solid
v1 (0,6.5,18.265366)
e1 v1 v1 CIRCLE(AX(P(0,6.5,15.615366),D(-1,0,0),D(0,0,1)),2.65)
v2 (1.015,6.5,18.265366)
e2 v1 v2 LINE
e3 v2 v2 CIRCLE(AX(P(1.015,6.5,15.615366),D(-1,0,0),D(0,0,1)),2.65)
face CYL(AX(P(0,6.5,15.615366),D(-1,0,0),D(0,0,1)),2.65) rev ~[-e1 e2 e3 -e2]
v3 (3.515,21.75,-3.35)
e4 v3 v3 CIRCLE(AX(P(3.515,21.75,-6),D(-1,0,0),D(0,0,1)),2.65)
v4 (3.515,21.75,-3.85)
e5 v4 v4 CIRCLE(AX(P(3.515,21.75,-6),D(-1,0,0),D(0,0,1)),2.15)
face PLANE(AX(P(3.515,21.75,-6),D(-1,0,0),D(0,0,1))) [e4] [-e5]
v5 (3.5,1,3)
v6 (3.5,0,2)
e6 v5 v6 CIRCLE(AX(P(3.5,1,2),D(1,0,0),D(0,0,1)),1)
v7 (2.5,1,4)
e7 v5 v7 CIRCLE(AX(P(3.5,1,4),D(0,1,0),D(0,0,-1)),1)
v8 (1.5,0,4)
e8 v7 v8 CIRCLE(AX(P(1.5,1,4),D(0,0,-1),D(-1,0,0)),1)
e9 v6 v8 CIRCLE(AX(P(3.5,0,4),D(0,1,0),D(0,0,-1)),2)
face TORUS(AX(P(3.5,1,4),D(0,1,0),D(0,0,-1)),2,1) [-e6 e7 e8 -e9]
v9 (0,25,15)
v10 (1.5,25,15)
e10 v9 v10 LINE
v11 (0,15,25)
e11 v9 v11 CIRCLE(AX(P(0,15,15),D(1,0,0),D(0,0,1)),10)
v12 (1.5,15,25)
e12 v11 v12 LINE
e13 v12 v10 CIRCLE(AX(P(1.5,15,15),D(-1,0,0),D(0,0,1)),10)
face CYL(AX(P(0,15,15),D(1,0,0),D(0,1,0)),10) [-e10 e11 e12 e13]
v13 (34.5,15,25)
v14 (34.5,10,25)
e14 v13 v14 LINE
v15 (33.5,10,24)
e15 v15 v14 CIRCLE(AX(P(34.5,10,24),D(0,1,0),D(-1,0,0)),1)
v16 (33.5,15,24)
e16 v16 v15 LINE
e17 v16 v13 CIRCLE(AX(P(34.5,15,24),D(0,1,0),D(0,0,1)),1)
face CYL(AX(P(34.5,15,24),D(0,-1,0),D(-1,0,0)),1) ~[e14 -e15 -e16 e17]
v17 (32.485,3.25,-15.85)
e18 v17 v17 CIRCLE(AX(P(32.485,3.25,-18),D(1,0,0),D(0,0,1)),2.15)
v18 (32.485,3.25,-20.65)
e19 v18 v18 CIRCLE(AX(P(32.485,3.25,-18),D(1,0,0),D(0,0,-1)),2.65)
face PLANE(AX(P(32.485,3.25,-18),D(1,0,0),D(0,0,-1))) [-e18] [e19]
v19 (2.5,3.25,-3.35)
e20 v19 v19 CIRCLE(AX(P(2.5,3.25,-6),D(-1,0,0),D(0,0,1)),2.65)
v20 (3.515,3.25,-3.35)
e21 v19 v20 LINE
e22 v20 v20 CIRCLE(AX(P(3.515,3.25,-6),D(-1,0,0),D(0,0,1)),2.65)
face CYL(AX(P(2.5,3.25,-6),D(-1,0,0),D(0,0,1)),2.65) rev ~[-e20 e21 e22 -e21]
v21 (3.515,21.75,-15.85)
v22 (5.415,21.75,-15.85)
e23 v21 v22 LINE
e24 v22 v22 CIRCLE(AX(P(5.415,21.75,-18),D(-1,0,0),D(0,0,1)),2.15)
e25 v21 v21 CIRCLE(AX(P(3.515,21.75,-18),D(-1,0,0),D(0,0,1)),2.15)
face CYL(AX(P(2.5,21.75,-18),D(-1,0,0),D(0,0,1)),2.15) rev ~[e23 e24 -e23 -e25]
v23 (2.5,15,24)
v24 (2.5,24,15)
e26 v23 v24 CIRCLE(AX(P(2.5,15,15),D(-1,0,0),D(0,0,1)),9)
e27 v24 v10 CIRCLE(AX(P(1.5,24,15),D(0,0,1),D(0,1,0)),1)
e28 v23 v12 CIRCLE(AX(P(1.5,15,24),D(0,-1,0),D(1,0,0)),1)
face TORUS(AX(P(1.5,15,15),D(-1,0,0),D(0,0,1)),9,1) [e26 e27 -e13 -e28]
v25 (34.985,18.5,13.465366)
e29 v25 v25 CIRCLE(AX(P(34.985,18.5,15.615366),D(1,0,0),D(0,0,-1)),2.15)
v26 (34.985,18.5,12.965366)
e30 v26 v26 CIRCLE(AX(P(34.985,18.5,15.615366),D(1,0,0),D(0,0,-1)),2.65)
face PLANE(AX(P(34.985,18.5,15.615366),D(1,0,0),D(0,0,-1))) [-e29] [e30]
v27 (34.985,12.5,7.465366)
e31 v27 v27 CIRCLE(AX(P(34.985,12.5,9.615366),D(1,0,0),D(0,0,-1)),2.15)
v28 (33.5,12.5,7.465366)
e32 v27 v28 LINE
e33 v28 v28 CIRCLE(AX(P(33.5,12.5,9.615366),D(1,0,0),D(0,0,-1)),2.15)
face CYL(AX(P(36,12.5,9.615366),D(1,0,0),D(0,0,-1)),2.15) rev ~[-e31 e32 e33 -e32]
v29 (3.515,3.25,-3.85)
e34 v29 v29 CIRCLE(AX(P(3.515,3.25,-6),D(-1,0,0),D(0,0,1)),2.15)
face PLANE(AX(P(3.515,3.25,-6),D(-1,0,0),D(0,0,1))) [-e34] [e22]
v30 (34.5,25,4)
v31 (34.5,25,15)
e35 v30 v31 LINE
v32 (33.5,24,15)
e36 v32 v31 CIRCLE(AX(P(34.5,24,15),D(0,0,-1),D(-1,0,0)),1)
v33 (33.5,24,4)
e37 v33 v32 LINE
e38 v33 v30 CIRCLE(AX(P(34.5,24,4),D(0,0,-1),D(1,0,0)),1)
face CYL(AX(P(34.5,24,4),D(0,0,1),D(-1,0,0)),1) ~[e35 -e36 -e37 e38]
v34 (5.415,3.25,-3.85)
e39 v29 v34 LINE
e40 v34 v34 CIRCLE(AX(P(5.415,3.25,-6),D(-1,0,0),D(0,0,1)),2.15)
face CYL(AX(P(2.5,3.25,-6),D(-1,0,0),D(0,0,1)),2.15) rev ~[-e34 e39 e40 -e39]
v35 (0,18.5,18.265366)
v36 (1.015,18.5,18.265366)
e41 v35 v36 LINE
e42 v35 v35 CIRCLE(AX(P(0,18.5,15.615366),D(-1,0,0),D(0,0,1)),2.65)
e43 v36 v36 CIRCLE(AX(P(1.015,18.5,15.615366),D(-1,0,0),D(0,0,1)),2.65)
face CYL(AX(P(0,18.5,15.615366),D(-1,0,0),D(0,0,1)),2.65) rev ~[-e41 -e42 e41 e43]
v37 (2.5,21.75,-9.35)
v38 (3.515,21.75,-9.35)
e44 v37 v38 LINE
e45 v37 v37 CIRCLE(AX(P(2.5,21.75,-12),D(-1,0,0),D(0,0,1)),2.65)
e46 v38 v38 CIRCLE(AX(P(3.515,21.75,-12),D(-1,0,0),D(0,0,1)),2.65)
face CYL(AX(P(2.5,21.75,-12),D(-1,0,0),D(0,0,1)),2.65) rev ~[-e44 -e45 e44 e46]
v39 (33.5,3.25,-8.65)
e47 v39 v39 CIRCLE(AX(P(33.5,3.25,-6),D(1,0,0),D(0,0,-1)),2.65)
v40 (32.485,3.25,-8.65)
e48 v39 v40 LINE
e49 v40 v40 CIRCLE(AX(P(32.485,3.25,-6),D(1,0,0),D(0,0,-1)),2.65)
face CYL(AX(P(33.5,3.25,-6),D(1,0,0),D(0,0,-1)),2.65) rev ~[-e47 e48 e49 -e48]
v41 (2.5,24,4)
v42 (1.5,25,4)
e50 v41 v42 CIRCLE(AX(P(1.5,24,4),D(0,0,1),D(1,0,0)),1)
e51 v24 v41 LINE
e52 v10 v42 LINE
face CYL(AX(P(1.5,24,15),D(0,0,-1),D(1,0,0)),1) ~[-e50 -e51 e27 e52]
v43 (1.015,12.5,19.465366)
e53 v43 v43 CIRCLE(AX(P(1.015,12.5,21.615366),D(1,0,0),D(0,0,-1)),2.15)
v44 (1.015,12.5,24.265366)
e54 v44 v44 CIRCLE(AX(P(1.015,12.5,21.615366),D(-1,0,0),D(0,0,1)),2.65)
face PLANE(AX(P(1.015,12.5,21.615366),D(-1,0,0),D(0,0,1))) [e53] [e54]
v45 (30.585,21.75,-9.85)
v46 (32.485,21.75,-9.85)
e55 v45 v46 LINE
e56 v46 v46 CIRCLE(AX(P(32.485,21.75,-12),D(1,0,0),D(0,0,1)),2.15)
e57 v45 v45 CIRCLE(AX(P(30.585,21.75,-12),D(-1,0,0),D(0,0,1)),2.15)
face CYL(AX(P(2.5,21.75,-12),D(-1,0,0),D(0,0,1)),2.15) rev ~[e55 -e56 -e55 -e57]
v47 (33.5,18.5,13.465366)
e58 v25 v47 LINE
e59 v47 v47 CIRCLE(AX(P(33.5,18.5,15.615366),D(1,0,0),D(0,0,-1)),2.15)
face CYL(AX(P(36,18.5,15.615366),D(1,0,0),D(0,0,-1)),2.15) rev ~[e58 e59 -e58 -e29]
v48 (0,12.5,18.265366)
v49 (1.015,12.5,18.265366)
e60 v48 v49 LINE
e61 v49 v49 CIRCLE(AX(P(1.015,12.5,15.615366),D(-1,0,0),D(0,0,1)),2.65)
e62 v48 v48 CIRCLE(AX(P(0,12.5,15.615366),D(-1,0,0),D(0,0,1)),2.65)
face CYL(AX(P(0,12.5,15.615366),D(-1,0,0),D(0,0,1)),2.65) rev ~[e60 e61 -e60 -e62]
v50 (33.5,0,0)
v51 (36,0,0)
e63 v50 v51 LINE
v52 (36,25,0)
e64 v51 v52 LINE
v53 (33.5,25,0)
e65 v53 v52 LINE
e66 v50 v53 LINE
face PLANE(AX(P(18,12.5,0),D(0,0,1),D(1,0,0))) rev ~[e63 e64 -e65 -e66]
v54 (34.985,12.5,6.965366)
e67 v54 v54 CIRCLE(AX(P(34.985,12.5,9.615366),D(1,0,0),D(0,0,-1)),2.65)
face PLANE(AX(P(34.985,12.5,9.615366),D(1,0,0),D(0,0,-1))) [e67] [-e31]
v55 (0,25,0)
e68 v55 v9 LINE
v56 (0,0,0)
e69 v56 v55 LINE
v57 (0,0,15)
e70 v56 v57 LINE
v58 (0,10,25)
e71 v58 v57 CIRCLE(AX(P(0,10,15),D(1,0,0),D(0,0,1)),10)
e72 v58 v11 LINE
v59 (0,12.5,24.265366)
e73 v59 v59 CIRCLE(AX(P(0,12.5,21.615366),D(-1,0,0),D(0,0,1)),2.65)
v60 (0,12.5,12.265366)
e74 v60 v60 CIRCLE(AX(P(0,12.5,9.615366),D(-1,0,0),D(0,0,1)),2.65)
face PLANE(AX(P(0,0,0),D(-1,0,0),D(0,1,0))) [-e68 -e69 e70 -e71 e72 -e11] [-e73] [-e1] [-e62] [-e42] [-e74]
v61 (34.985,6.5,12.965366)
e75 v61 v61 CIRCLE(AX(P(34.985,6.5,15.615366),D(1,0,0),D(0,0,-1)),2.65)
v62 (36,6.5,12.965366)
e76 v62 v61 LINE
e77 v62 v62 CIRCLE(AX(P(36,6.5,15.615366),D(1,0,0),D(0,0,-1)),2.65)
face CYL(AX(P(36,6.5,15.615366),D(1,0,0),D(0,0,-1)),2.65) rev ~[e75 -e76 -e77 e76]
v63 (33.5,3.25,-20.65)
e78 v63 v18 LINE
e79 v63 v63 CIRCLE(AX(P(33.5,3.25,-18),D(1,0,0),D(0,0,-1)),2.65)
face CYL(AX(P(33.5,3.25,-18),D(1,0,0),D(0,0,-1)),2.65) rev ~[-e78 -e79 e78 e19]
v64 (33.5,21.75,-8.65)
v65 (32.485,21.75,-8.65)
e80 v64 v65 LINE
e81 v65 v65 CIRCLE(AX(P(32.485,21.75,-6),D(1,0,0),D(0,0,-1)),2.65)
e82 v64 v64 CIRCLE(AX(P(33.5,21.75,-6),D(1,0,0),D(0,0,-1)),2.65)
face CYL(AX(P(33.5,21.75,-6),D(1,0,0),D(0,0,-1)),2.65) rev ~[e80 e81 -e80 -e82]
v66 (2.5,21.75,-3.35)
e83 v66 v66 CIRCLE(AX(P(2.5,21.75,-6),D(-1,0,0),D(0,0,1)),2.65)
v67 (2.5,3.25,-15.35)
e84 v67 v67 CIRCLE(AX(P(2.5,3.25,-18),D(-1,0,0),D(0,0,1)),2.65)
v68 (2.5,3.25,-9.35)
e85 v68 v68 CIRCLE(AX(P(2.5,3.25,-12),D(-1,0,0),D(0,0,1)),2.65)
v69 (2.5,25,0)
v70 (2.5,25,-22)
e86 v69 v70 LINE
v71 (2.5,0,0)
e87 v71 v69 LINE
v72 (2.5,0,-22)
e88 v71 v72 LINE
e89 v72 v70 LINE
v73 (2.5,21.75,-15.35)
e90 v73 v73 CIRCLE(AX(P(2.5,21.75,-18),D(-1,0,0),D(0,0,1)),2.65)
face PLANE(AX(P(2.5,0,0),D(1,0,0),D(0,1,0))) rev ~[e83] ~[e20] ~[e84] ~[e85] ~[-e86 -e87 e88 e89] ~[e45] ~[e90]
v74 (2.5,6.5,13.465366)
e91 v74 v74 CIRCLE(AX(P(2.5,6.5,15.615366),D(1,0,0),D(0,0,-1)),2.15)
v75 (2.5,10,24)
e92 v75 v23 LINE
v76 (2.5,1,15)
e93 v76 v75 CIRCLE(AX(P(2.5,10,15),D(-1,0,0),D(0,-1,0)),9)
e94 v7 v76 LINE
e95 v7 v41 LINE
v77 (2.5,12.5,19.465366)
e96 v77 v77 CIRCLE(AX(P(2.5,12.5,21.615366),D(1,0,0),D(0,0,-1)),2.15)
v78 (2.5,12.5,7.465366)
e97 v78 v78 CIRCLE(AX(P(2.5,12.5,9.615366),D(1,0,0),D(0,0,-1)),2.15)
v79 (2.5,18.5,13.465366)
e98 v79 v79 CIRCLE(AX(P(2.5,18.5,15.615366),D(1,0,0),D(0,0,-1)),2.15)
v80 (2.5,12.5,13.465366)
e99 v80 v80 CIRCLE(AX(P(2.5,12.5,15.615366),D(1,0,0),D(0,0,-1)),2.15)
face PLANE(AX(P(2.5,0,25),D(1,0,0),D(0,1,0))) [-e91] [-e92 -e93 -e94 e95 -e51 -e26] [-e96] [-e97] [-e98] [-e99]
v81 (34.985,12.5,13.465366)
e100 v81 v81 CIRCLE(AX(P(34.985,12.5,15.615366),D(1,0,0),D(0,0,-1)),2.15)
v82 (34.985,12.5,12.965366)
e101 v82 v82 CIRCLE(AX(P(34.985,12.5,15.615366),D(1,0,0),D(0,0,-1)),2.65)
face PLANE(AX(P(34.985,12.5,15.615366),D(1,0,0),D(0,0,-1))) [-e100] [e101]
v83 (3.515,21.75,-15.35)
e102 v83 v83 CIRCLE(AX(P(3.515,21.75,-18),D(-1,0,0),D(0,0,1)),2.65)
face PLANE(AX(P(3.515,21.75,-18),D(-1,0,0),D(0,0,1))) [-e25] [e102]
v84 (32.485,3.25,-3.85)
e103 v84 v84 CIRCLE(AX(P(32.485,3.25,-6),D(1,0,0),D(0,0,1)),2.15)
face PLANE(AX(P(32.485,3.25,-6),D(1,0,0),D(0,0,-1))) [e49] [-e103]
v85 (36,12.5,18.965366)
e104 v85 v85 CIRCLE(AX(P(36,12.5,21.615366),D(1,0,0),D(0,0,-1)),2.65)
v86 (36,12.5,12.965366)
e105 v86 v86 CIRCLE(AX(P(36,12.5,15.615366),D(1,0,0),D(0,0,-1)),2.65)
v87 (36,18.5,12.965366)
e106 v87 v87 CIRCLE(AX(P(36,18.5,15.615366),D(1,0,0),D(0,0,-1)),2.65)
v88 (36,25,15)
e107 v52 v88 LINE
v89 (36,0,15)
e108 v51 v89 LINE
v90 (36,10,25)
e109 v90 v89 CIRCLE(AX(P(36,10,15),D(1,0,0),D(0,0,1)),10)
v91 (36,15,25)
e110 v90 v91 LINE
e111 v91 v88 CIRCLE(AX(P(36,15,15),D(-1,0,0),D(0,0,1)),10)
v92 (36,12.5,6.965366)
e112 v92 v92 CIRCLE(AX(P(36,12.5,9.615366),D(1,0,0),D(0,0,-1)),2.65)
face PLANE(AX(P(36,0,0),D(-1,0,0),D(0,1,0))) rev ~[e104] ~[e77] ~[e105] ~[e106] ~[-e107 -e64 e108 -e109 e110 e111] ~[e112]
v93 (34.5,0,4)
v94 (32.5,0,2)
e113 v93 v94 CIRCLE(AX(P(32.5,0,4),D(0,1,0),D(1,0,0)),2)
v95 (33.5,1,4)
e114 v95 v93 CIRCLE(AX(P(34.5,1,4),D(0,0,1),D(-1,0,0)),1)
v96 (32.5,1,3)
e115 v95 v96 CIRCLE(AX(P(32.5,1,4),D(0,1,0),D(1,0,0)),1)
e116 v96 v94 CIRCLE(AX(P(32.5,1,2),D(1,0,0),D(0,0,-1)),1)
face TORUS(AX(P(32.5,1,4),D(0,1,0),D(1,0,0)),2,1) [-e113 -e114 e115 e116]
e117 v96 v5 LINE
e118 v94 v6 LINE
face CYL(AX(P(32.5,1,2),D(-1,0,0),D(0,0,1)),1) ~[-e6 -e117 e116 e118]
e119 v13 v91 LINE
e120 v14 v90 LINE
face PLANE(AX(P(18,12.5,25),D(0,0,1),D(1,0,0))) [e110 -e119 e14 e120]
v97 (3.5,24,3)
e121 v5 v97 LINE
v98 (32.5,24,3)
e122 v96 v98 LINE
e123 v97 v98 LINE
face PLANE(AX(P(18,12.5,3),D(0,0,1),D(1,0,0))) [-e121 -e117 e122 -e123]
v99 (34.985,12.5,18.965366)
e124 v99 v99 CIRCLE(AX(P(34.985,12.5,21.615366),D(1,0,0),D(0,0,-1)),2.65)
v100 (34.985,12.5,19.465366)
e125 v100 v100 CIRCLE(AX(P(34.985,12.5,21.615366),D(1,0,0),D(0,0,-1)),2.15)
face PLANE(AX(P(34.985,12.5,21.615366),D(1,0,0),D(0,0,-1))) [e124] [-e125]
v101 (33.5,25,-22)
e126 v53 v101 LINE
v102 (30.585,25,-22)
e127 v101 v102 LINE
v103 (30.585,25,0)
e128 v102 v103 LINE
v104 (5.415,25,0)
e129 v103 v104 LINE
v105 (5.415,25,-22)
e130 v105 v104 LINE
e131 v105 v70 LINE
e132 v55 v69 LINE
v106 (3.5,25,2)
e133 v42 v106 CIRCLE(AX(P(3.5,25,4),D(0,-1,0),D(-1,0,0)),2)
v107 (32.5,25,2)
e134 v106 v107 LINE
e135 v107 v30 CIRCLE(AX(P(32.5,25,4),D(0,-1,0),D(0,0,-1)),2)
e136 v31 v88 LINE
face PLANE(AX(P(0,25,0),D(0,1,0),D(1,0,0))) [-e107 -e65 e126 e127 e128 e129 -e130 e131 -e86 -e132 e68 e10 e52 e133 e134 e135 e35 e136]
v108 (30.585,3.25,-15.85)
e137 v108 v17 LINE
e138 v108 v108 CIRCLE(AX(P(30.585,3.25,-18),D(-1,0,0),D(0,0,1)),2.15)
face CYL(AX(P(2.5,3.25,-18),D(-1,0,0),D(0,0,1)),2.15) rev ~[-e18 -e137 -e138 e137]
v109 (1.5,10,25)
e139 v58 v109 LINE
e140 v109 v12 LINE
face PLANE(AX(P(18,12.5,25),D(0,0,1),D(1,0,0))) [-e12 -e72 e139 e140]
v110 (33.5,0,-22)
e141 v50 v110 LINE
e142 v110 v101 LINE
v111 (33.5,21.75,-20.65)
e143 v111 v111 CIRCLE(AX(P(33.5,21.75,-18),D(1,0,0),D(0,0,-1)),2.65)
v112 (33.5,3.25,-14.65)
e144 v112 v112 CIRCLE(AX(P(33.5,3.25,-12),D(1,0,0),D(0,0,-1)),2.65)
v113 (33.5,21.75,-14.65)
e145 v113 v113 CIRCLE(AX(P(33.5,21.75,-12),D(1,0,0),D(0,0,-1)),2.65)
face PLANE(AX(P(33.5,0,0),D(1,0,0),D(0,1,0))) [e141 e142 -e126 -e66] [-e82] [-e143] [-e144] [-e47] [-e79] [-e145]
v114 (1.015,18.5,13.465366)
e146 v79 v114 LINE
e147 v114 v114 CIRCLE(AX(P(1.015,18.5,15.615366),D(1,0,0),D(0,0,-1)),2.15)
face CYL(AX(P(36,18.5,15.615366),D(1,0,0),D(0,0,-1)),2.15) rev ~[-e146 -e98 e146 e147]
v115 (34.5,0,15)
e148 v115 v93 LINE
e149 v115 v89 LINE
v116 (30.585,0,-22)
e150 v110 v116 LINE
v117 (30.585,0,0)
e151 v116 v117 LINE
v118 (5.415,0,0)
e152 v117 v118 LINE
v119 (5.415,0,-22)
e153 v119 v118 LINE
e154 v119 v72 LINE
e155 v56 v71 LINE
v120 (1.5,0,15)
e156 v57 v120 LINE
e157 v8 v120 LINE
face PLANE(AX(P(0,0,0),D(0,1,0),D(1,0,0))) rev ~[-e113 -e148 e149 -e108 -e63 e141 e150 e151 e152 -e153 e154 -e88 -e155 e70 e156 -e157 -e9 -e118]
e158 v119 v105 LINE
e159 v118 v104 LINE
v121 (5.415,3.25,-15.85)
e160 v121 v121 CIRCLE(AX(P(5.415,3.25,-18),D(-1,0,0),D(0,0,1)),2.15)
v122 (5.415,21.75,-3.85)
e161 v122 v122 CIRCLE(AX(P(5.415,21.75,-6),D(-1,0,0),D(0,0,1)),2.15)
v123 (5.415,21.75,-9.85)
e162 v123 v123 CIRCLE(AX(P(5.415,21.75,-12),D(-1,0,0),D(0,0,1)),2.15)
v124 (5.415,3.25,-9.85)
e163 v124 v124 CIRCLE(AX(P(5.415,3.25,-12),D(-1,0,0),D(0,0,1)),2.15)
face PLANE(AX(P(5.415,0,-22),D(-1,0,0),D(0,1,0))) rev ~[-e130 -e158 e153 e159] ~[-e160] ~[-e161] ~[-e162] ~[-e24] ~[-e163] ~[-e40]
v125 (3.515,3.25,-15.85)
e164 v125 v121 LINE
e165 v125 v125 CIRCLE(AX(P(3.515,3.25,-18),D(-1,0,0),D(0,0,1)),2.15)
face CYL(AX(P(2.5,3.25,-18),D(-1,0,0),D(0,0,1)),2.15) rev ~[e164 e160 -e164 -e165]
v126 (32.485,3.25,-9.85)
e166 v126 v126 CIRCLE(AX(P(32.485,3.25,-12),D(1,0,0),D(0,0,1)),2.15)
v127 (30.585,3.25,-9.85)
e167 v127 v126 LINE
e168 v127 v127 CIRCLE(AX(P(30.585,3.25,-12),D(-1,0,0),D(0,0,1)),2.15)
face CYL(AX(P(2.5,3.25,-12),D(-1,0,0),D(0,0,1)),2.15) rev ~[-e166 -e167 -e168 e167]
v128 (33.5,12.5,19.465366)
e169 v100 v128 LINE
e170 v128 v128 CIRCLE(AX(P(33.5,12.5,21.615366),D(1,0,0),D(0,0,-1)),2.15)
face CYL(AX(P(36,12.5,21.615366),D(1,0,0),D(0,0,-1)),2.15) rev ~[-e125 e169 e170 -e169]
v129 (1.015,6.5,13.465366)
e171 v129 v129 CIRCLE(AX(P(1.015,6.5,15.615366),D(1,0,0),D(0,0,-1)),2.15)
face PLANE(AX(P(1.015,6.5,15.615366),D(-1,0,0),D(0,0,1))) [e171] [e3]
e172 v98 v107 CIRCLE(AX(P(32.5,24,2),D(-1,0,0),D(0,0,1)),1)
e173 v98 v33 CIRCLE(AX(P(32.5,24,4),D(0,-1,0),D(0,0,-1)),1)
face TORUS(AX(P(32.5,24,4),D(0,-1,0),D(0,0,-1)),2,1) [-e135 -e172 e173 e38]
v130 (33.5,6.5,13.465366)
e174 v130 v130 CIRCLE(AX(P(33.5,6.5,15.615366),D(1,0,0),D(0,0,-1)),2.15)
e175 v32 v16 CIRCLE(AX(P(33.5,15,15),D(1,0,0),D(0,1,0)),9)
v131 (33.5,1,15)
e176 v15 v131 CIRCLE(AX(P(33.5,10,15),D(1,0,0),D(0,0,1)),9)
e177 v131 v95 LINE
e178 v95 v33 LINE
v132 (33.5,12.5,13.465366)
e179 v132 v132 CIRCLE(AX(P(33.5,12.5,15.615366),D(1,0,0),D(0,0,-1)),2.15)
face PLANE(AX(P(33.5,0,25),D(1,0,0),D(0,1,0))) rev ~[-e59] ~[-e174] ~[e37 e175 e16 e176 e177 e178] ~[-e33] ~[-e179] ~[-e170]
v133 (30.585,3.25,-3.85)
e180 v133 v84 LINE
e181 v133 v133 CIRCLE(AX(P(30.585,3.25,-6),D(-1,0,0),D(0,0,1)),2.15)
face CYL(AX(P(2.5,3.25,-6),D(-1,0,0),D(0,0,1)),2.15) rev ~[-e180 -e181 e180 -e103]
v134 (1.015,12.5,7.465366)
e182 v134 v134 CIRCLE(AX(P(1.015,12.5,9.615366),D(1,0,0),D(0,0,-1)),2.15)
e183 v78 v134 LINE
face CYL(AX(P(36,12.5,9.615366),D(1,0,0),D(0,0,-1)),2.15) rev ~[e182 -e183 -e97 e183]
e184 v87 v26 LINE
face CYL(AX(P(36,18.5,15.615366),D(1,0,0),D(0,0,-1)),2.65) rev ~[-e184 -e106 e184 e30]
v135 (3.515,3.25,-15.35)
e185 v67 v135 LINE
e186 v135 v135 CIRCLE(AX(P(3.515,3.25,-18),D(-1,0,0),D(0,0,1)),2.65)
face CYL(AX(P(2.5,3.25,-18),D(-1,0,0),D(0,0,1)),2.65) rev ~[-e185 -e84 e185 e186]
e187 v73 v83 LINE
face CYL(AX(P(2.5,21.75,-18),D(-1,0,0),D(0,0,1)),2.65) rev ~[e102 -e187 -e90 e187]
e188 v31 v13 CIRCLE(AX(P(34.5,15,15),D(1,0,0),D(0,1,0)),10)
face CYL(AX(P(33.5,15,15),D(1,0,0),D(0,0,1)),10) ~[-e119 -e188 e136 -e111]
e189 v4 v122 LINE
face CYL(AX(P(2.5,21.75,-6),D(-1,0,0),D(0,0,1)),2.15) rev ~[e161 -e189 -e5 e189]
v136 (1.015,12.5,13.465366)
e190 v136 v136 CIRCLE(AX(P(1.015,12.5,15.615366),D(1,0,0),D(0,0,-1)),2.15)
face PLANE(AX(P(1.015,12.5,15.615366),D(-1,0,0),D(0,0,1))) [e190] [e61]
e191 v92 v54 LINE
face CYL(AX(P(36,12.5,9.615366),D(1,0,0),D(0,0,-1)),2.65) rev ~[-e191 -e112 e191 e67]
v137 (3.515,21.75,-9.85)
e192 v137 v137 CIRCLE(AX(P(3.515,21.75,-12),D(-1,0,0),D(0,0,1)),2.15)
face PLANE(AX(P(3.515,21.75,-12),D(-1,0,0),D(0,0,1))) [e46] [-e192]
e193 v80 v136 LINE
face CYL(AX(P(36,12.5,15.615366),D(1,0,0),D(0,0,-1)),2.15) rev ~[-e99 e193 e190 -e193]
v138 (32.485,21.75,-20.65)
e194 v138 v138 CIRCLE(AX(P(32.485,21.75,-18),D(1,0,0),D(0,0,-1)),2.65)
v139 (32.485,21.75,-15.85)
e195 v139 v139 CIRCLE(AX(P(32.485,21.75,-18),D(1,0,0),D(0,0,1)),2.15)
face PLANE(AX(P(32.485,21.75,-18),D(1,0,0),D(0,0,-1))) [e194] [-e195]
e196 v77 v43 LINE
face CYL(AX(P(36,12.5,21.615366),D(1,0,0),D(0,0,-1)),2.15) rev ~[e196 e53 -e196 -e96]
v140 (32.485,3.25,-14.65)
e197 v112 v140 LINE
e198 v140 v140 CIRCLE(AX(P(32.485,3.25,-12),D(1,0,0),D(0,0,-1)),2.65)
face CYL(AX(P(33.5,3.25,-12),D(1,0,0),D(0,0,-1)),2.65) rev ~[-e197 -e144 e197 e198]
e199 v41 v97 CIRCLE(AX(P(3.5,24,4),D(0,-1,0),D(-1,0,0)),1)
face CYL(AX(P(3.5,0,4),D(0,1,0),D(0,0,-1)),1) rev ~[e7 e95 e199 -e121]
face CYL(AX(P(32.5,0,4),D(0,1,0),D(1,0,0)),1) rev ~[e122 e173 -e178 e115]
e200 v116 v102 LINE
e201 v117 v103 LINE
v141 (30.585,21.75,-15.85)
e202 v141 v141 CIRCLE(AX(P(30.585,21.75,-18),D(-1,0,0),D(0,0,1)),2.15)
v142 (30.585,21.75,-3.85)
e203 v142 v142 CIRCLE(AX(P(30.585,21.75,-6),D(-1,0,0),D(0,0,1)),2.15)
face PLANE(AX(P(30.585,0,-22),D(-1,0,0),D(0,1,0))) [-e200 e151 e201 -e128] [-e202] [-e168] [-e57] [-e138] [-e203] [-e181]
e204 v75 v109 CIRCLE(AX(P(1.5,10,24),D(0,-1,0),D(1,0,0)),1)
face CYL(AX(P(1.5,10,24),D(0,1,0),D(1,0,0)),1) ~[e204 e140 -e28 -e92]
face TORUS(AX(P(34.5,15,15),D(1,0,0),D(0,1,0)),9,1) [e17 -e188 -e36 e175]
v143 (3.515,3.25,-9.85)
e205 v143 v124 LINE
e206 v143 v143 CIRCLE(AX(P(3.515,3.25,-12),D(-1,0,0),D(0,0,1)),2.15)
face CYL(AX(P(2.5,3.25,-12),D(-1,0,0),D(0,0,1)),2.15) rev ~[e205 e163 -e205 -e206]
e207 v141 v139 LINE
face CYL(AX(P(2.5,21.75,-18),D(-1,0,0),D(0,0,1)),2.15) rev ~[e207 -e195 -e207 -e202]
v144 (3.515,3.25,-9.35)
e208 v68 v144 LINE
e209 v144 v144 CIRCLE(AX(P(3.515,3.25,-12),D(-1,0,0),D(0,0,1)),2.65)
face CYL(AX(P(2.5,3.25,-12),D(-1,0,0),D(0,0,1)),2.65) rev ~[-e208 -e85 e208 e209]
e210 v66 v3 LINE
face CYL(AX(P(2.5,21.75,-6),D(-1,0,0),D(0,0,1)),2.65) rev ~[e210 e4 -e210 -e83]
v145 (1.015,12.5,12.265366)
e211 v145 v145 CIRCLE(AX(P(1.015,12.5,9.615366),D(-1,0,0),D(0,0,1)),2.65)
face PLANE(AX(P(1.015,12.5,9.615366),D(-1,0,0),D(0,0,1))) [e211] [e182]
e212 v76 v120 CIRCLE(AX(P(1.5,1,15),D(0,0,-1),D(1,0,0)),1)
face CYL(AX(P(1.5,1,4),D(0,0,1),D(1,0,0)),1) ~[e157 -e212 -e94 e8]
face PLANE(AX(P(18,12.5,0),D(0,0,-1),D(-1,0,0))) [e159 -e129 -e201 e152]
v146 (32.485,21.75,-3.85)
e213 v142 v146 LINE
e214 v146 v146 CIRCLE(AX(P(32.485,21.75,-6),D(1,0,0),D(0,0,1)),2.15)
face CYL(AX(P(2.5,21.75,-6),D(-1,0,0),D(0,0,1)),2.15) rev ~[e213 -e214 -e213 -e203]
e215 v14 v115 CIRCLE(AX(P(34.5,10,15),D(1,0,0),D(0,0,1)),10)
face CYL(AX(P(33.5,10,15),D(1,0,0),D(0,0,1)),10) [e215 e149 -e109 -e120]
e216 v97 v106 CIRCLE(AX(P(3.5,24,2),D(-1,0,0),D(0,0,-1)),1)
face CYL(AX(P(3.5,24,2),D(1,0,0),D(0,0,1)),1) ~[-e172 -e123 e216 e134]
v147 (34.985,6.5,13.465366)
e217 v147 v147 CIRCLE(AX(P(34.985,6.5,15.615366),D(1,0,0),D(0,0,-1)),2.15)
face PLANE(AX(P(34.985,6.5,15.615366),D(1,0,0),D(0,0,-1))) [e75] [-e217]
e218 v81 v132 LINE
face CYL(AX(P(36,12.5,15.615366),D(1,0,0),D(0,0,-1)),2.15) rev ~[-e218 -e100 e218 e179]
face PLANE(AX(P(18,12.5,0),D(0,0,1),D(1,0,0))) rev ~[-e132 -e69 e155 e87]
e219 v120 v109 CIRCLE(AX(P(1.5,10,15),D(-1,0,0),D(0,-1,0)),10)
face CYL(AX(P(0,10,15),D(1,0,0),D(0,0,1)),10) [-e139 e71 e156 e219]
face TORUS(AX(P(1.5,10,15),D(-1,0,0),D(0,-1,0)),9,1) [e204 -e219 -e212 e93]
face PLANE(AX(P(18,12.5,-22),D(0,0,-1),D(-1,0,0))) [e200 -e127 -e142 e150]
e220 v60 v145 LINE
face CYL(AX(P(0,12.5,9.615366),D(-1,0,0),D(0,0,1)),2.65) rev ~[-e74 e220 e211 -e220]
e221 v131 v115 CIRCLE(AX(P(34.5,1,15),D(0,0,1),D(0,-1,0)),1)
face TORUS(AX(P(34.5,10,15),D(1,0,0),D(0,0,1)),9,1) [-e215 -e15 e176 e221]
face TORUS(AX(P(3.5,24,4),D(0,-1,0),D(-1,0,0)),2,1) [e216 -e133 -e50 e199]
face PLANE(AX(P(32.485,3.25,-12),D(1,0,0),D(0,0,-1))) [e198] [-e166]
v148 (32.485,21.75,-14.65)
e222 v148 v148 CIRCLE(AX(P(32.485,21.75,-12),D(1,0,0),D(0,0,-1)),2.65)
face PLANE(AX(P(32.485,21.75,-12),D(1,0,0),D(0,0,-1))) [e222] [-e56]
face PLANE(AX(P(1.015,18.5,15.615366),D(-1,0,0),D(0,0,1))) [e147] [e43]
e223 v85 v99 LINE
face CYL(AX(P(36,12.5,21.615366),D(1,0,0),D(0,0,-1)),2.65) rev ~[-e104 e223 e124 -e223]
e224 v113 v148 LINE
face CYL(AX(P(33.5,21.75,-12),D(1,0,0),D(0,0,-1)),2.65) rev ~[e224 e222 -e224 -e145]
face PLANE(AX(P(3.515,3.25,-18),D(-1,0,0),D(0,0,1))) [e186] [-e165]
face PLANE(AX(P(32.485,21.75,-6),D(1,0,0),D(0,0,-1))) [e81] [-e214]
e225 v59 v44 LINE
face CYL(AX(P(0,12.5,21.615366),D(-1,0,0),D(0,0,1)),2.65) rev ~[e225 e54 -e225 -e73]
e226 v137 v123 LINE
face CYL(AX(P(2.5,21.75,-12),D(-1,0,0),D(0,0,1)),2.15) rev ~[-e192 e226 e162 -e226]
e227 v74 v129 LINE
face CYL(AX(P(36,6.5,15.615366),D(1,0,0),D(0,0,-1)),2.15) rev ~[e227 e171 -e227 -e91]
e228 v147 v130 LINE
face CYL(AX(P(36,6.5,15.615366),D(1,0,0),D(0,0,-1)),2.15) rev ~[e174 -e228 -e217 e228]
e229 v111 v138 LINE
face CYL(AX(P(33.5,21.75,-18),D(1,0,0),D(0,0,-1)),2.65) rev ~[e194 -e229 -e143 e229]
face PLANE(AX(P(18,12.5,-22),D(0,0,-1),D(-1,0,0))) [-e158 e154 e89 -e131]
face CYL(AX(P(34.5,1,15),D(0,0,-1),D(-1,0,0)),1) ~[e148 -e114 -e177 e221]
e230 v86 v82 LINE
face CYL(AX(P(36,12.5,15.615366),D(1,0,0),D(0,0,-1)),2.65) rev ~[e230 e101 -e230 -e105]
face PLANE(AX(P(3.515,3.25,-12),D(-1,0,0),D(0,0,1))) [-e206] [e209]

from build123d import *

# Parameters (mm, degrees)
CROQUIS1_W              = 36
CROQUIS1_H              = 25
SALIENTE_EXTRUIR1_DEPTH = 25
CROQUIS2_W              = 31
CROQUIS2_H              = 25
CORTAR_EXTRUIR1_DEPTH   = 22
CROQUIS3_R              = 2.15
CORTAR_EXTRUIR2_DEPTH   = 51.457903246
CROQUIS3_3_R            = 2.65
CROQUIS3_3_R_2          = 2.15
CORTAR_EXTRUIR3_DEPTH   = 1.015
CORTAR_EXTRUIR4_START   = -1.015
CROQUIS4_R              = 2.65
CROQUIS4_R_2            = 2.15
CORTAR_EXTRUIR4_DEPTH   = 1.015
CROQUIS5_W              = 31
CROQUIS5_H              = 25
SALIENTE_EXTRUIR2_DEPTH = 22
CROQUIS6_W              = 25.17
CROQUIS6_H              = 25
CORTAR_EXTRUIR5_DEPTH   = 22
CROQUIS8_R              = 2.15
CORTAR_EXTRUIR6_DEPTH   = 49.705749147
CROQUIS8_3_R            = 2.65
CROQUIS8_3_R_2          = 2.15
CORTAR_EXTRUIR7_DEPTH   = 1.015
CORTAR_EXTRUIR8_START   = -1.015
CROQUIS10_R             = 2.65
CROQUIS10_R_2           = 2.15
CORTAR_EXTRUIR8_DEPTH   = 1.015
REDONDEO2_R             = 10
REDONDEO3_R             = 1
REDONDEO4_R             = 1
REDONDEO5_R             = 1


with BuildPart() as part:
    # Croquis1 → Saliente-Extruir1 (new body)
    with BuildSketch(Plane.XY):
        with Locations((18, 12.5)):
            Rectangle(CROQUIS1_W, CROQUIS1_H)
    extrude(amount=SALIENTE_EXTRUIR1_DEPTH)

    # Croquis2 → Cortar-Extruir1 (cut)
    with BuildSketch(Plane.XY.offset(25)):
        with Locations((18, 12.5)):
            Rectangle(CROQUIS2_W, CROQUIS2_H)
    extrude(amount=-CORTAR_EXTRUIR1_DEPTH, mode=Mode.SUBTRACT)

    # Croquis3 → Cortar-Extruir2 (cut, through all)
    with BuildSketch(Plane(origin=(36, 0, 0), x_dir=(0, 0, -1), z_dir=(1, 0, 0))):
        with Locations((-15.615366346, 18.5)):
            Circle(CROQUIS3_R)
        with Locations((-9.615366346, 12.5)):
            Circle(CROQUIS3_R)
        with Locations((-21.615366346, 12.5)):
            Circle(CROQUIS3_R)
        with Locations((-15.615366346, 6.5)):
            Circle(CROQUIS3_R)
        with Locations((-15.615366346, 12.5)):
            Circle(CROQUIS3_R)
    extrude(amount=-CORTAR_EXTRUIR2_DEPTH, mode=Mode.SUBTRACT)

    # Croquis3<3> → Cortar-Extruir3 (cut)
    # profile 1 of 5: a face of its own
    with BuildSketch(Plane(origin=(36, 0, 0), x_dir=(0, 0, -1), z_dir=(1, 0, 0))):
        with Locations((-15.615366346, 18.5)):
            Circle(CROQUIS3_3_R)
        with Locations((-15.615366346, 18.5)):
            Circle(CROQUIS3_3_R_2, mode=Mode.SUBTRACT)
    # profile 2 of 5: a face of its own
    with BuildSketch(Plane(origin=(36, 0, 0), x_dir=(0, 0, -1), z_dir=(1, 0, 0))):
        with Locations((-9.615366346, 12.5)):
            Circle(CROQUIS3_3_R)
        with Locations((-9.615366346, 12.5)):
            Circle(CROQUIS3_3_R_2, mode=Mode.SUBTRACT)
    # profile 3 of 5: a face of its own
    with BuildSketch(Plane(origin=(36, 0, 0), x_dir=(0, 0, -1), z_dir=(1, 0, 0))):
        with Locations((-21.615366346, 12.5)):
            Circle(CROQUIS3_3_R)
        with Locations((-21.615366346, 12.5)):
            Circle(CROQUIS3_3_R_2, mode=Mode.SUBTRACT)
    # profile 4 of 5: a face of its own
    with BuildSketch(Plane(origin=(36, 0, 0), x_dir=(0, 0, -1), z_dir=(1, 0, 0))):
        with Locations((-15.615366346, 6.5)):
            Circle(CROQUIS3_3_R)
        with Locations((-15.615366346, 6.5)):
            Circle(CROQUIS3_3_R_2, mode=Mode.SUBTRACT)
    # profile 5 of 5: a face of its own
    with BuildSketch(Plane(origin=(36, 0, 0), x_dir=(0, 0, -1), z_dir=(1, 0, 0))):
        with Locations((-15.615366346, 12.5)):
            Circle(CROQUIS3_3_R)
        with Locations((-15.615366346, 12.5)):
            Circle(CROQUIS3_3_R_2, mode=Mode.SUBTRACT)
    extrude(amount=-CORTAR_EXTRUIR3_DEPTH, mode=Mode.SUBTRACT)

    # Croquis4 → Cortar-Extruir4 (cut)
    # profile 1 of 5: a face of its own
    with BuildSketch(Plane.ZY.offset(CORTAR_EXTRUIR4_START)):
        with Locations((15.615366346, 18.5)):
            Circle(CROQUIS4_R)
        with Locations((15.615366346, 18.5)):
            Circle(CROQUIS4_R_2, mode=Mode.SUBTRACT)
    # profile 2 of 5: a face of its own
    with BuildSketch(Plane.ZY.offset(CORTAR_EXTRUIR4_START)):
        with Locations((21.615366346, 12.5)):
            Circle(CROQUIS4_R)
        with Locations((21.615366346, 12.5)):
            Circle(CROQUIS4_R_2, mode=Mode.SUBTRACT)
    # profile 3 of 5: a face of its own
    with BuildSketch(Plane.ZY.offset(CORTAR_EXTRUIR4_START)):
        with Locations((15.615366346, 6.5)):
            Circle(CROQUIS4_R)
        with Locations((15.615366346, 6.5)):
            Circle(CROQUIS4_R_2, mode=Mode.SUBTRACT)
    # profile 4 of 5: a face of its own
    with BuildSketch(Plane.ZY.offset(CORTAR_EXTRUIR4_START)):
        with Locations((15.615366346, 12.5)):
            Circle(CROQUIS4_R)
        with Locations((15.615366346, 12.5)):
            Circle(CROQUIS4_R_2, mode=Mode.SUBTRACT)
    # profile 5 of 5: a face of its own
    with BuildSketch(Plane.ZY.offset(CORTAR_EXTRUIR4_START)):
        with Locations((9.615366346, 12.5)):
            Circle(CROQUIS4_R)
        with Locations((9.615366346, 12.5)):
            Circle(CROQUIS4_R_2, mode=Mode.SUBTRACT)
    extrude(amount=CORTAR_EXTRUIR4_DEPTH, mode=Mode.SUBTRACT)

    # Croquis5 → Saliente-Extruir2 (add)
    with BuildSketch(Plane(origin=(0, 0, 0), x_dir=(-1, 0, 0), z_dir=(0, 0, -1))):
        with Locations((-18, 12.5)):
            Rectangle(CROQUIS5_W, CROQUIS5_H)
    extrude(amount=SALIENTE_EXTRUIR2_DEPTH)

    # Croquis6 → Cortar-Extruir5 (cut)
    with BuildSketch(Plane(origin=(0, 0, -22), x_dir=(-1, 0, 0), z_dir=(0, 0, -1))):
        with Locations((-18, 12.5)):
            Rectangle(CROQUIS6_W, CROQUIS6_H)
    extrude(amount=-CORTAR_EXTRUIR5_DEPTH, mode=Mode.SUBTRACT)

    # Croquis8 → Cortar-Extruir6 (cut, through all)
    with BuildSketch(Plane.ZY.offset(-2.5)):
        with Locations((-18, 21.75)):
            Circle(CROQUIS8_R)
        with Locations((-12, 21.75)):
            Circle(CROQUIS8_R)
        with Locations((-6, 21.75)):
            Circle(CROQUIS8_R)
        with Locations((-18, 3.25)):
            Circle(CROQUIS8_R)
        with Locations((-12, 3.25)):
            Circle(CROQUIS8_R)
        with Locations((-6, 3.25)):
            Circle(CROQUIS8_R)
    extrude(amount=-CORTAR_EXTRUIR6_DEPTH, mode=Mode.SUBTRACT)

    # Croquis8<3> → Cortar-Extruir7 (cut)
    # profile 1 of 6: a face of its own
    with BuildSketch(Plane.ZY.offset(-2.5)):
        with Locations((-6, 21.75)):
            Circle(CROQUIS8_3_R)
        with Locations((-6, 21.75)):
            Circle(CROQUIS8_3_R_2, mode=Mode.SUBTRACT)
    # profile 2 of 6: a face of its own
    with BuildSketch(Plane.ZY.offset(-2.5)):
        with Locations((-18, 21.75)):
            Circle(CROQUIS8_3_R)
        with Locations((-18, 21.75)):
            Circle(CROQUIS8_3_R_2, mode=Mode.SUBTRACT)
    # profile 3 of 6: a face of its own
    with BuildSketch(Plane.ZY.offset(-2.5)):
        with Locations((-6, 3.25)):
            Circle(CROQUIS8_3_R)
        with Locations((-6, 3.25)):
            Circle(CROQUIS8_3_R_2, mode=Mode.SUBTRACT)
    # profile 4 of 6: a face of its own
    with BuildSketch(Plane.ZY.offset(-2.5)):
        with Locations((-18, 3.25)):
            Circle(CROQUIS8_3_R)
        with Locations((-18, 3.25)):
            Circle(CROQUIS8_3_R_2, mode=Mode.SUBTRACT)
    # profile 5 of 6: a face of its own
    with BuildSketch(Plane.ZY.offset(-2.5)):
        with Locations((-12, 21.75)):
            Circle(CROQUIS8_3_R)
        with Locations((-12, 21.75)):
            Circle(CROQUIS8_3_R_2, mode=Mode.SUBTRACT)
    # profile 6 of 6: a face of its own
    with BuildSketch(Plane.ZY.offset(-2.5)):
        with Locations((-12, 3.25)):
            Circle(CROQUIS8_3_R)
        with Locations((-12, 3.25)):
            Circle(CROQUIS8_3_R_2, mode=Mode.SUBTRACT)
    extrude(amount=-CORTAR_EXTRUIR7_DEPTH, mode=Mode.SUBTRACT)

    # Croquis10 → Cortar-Extruir8 (cut)
    # profile 1 of 6: a face of its own
    with BuildSketch(Plane(origin=(33.5, 0, 0), x_dir=(0, 0, -1), z_dir=(1, 0, 0)).offset(CORTAR_EXTRUIR8_START)):
        with Locations((6, 21.75)):
            Circle(CROQUIS10_R)
        with Locations((6, 21.75)):
            Circle(CROQUIS10_R_2, mode=Mode.SUBTRACT)
    # profile 2 of 6: a face of its own
    with BuildSketch(Plane(origin=(33.5, 0, 0), x_dir=(0, 0, -1), z_dir=(1, 0, 0)).offset(CORTAR_EXTRUIR8_START)):
        with Locations((18, 21.75)):
            Circle(CROQUIS10_R)
        with Locations((18, 21.75)):
            Circle(CROQUIS10_R_2, mode=Mode.SUBTRACT)
    # profile 3 of 6: a face of its own
    with BuildSketch(Plane(origin=(33.5, 0, 0), x_dir=(0, 0, -1), z_dir=(1, 0, 0)).offset(CORTAR_EXTRUIR8_START)):
        with Locations((6, 3.25)):
            Circle(CROQUIS10_R)
        with Locations((6, 3.25)):
            Circle(CROQUIS10_R_2, mode=Mode.SUBTRACT)
    # profile 4 of 6: a face of its own
    with BuildSketch(Plane(origin=(33.5, 0, 0), x_dir=(0, 0, -1), z_dir=(1, 0, 0)).offset(CORTAR_EXTRUIR8_START)):
        with Locations((18, 3.25)):
            Circle(CROQUIS10_R)
        with Locations((18, 3.25)):
            Circle(CROQUIS10_R_2, mode=Mode.SUBTRACT)
    # profile 5 of 6: a face of its own
    with BuildSketch(Plane(origin=(33.5, 0, 0), x_dir=(0, 0, -1), z_dir=(1, 0, 0)).offset(CORTAR_EXTRUIR8_START)):
        with Locations((12, 3.25)):
            Circle(CROQUIS10_R)
        with Locations((12, 3.25)):
            Circle(CROQUIS10_R_2, mode=Mode.SUBTRACT)
    # profile 6 of 6: a face of its own
    with BuildSketch(Plane(origin=(33.5, 0, 0), x_dir=(0, 0, -1), z_dir=(1, 0, 0)).offset(CORTAR_EXTRUIR8_START)):
        with Locations((12, 21.75)):
            Circle(CROQUIS10_R)
        with Locations((12, 21.75)):
            Circle(CROQUIS10_R_2, mode=Mode.SUBTRACT)
    extrude(amount=CORTAR_EXTRUIR8_DEPTH, mode=Mode.SUBTRACT)

    # Redondeo2
    redondeo2_edges = [part.edges().sort_by_distance(p)[0] for p in [
        (1.25, 0, 25),
        (34.75, 0, 25),
        (34.75, 25, 25),
        (1.25, 25, 25),
    ]]
    fillet(redondeo2_edges, radius=REDONDEO2_R)

    # Redondeo3
    redondeo3_edges = [part.edges().sort_by_distance(p)[0] for p in [
        (33.5, 12.5, 3),
    ]]
    fillet(redondeo3_edges, radius=REDONDEO3_R)

    # Redondeo4
    redondeo4_edges = [part.edges().sort_by_distance(p)[0] for p in [
        (2.5, 12.5, 3),
    ]]
    fillet(redondeo4_edges, radius=REDONDEO4_R)

    # Redondeo5
    redondeo5_edges = [part.edges().sort_by_distance(p)[0] for p in [
        (2.792893219, 0, 3.292893219),
        (2.5, 0, 9.5),
        (2.5, 2.928932188, 22.071067812),
        (2.5, 12.5, 25),
        (2.5, 22.071067812, 22.071067812),
        (2.5, 25, 9.5),
        (2.792893219, 25, 3.292893219),
        (33.207106781, 25, 3.292893219),
        (33.5, 25, 9.5),
        (33.5, 22.071067812, 22.071067812),
        (33.5, 12.5, 25),
        (33.5, 2.928932188, 22.071067812),
        (33.5, 0, 9.5),
        (33.207106781, 0, 3.292893219),
        (18, 25, 3),
        (18, 0, 3),
    ]]
    fillet(redondeo5_edges, radius=REDONDEO5_R)


solid = part.part
